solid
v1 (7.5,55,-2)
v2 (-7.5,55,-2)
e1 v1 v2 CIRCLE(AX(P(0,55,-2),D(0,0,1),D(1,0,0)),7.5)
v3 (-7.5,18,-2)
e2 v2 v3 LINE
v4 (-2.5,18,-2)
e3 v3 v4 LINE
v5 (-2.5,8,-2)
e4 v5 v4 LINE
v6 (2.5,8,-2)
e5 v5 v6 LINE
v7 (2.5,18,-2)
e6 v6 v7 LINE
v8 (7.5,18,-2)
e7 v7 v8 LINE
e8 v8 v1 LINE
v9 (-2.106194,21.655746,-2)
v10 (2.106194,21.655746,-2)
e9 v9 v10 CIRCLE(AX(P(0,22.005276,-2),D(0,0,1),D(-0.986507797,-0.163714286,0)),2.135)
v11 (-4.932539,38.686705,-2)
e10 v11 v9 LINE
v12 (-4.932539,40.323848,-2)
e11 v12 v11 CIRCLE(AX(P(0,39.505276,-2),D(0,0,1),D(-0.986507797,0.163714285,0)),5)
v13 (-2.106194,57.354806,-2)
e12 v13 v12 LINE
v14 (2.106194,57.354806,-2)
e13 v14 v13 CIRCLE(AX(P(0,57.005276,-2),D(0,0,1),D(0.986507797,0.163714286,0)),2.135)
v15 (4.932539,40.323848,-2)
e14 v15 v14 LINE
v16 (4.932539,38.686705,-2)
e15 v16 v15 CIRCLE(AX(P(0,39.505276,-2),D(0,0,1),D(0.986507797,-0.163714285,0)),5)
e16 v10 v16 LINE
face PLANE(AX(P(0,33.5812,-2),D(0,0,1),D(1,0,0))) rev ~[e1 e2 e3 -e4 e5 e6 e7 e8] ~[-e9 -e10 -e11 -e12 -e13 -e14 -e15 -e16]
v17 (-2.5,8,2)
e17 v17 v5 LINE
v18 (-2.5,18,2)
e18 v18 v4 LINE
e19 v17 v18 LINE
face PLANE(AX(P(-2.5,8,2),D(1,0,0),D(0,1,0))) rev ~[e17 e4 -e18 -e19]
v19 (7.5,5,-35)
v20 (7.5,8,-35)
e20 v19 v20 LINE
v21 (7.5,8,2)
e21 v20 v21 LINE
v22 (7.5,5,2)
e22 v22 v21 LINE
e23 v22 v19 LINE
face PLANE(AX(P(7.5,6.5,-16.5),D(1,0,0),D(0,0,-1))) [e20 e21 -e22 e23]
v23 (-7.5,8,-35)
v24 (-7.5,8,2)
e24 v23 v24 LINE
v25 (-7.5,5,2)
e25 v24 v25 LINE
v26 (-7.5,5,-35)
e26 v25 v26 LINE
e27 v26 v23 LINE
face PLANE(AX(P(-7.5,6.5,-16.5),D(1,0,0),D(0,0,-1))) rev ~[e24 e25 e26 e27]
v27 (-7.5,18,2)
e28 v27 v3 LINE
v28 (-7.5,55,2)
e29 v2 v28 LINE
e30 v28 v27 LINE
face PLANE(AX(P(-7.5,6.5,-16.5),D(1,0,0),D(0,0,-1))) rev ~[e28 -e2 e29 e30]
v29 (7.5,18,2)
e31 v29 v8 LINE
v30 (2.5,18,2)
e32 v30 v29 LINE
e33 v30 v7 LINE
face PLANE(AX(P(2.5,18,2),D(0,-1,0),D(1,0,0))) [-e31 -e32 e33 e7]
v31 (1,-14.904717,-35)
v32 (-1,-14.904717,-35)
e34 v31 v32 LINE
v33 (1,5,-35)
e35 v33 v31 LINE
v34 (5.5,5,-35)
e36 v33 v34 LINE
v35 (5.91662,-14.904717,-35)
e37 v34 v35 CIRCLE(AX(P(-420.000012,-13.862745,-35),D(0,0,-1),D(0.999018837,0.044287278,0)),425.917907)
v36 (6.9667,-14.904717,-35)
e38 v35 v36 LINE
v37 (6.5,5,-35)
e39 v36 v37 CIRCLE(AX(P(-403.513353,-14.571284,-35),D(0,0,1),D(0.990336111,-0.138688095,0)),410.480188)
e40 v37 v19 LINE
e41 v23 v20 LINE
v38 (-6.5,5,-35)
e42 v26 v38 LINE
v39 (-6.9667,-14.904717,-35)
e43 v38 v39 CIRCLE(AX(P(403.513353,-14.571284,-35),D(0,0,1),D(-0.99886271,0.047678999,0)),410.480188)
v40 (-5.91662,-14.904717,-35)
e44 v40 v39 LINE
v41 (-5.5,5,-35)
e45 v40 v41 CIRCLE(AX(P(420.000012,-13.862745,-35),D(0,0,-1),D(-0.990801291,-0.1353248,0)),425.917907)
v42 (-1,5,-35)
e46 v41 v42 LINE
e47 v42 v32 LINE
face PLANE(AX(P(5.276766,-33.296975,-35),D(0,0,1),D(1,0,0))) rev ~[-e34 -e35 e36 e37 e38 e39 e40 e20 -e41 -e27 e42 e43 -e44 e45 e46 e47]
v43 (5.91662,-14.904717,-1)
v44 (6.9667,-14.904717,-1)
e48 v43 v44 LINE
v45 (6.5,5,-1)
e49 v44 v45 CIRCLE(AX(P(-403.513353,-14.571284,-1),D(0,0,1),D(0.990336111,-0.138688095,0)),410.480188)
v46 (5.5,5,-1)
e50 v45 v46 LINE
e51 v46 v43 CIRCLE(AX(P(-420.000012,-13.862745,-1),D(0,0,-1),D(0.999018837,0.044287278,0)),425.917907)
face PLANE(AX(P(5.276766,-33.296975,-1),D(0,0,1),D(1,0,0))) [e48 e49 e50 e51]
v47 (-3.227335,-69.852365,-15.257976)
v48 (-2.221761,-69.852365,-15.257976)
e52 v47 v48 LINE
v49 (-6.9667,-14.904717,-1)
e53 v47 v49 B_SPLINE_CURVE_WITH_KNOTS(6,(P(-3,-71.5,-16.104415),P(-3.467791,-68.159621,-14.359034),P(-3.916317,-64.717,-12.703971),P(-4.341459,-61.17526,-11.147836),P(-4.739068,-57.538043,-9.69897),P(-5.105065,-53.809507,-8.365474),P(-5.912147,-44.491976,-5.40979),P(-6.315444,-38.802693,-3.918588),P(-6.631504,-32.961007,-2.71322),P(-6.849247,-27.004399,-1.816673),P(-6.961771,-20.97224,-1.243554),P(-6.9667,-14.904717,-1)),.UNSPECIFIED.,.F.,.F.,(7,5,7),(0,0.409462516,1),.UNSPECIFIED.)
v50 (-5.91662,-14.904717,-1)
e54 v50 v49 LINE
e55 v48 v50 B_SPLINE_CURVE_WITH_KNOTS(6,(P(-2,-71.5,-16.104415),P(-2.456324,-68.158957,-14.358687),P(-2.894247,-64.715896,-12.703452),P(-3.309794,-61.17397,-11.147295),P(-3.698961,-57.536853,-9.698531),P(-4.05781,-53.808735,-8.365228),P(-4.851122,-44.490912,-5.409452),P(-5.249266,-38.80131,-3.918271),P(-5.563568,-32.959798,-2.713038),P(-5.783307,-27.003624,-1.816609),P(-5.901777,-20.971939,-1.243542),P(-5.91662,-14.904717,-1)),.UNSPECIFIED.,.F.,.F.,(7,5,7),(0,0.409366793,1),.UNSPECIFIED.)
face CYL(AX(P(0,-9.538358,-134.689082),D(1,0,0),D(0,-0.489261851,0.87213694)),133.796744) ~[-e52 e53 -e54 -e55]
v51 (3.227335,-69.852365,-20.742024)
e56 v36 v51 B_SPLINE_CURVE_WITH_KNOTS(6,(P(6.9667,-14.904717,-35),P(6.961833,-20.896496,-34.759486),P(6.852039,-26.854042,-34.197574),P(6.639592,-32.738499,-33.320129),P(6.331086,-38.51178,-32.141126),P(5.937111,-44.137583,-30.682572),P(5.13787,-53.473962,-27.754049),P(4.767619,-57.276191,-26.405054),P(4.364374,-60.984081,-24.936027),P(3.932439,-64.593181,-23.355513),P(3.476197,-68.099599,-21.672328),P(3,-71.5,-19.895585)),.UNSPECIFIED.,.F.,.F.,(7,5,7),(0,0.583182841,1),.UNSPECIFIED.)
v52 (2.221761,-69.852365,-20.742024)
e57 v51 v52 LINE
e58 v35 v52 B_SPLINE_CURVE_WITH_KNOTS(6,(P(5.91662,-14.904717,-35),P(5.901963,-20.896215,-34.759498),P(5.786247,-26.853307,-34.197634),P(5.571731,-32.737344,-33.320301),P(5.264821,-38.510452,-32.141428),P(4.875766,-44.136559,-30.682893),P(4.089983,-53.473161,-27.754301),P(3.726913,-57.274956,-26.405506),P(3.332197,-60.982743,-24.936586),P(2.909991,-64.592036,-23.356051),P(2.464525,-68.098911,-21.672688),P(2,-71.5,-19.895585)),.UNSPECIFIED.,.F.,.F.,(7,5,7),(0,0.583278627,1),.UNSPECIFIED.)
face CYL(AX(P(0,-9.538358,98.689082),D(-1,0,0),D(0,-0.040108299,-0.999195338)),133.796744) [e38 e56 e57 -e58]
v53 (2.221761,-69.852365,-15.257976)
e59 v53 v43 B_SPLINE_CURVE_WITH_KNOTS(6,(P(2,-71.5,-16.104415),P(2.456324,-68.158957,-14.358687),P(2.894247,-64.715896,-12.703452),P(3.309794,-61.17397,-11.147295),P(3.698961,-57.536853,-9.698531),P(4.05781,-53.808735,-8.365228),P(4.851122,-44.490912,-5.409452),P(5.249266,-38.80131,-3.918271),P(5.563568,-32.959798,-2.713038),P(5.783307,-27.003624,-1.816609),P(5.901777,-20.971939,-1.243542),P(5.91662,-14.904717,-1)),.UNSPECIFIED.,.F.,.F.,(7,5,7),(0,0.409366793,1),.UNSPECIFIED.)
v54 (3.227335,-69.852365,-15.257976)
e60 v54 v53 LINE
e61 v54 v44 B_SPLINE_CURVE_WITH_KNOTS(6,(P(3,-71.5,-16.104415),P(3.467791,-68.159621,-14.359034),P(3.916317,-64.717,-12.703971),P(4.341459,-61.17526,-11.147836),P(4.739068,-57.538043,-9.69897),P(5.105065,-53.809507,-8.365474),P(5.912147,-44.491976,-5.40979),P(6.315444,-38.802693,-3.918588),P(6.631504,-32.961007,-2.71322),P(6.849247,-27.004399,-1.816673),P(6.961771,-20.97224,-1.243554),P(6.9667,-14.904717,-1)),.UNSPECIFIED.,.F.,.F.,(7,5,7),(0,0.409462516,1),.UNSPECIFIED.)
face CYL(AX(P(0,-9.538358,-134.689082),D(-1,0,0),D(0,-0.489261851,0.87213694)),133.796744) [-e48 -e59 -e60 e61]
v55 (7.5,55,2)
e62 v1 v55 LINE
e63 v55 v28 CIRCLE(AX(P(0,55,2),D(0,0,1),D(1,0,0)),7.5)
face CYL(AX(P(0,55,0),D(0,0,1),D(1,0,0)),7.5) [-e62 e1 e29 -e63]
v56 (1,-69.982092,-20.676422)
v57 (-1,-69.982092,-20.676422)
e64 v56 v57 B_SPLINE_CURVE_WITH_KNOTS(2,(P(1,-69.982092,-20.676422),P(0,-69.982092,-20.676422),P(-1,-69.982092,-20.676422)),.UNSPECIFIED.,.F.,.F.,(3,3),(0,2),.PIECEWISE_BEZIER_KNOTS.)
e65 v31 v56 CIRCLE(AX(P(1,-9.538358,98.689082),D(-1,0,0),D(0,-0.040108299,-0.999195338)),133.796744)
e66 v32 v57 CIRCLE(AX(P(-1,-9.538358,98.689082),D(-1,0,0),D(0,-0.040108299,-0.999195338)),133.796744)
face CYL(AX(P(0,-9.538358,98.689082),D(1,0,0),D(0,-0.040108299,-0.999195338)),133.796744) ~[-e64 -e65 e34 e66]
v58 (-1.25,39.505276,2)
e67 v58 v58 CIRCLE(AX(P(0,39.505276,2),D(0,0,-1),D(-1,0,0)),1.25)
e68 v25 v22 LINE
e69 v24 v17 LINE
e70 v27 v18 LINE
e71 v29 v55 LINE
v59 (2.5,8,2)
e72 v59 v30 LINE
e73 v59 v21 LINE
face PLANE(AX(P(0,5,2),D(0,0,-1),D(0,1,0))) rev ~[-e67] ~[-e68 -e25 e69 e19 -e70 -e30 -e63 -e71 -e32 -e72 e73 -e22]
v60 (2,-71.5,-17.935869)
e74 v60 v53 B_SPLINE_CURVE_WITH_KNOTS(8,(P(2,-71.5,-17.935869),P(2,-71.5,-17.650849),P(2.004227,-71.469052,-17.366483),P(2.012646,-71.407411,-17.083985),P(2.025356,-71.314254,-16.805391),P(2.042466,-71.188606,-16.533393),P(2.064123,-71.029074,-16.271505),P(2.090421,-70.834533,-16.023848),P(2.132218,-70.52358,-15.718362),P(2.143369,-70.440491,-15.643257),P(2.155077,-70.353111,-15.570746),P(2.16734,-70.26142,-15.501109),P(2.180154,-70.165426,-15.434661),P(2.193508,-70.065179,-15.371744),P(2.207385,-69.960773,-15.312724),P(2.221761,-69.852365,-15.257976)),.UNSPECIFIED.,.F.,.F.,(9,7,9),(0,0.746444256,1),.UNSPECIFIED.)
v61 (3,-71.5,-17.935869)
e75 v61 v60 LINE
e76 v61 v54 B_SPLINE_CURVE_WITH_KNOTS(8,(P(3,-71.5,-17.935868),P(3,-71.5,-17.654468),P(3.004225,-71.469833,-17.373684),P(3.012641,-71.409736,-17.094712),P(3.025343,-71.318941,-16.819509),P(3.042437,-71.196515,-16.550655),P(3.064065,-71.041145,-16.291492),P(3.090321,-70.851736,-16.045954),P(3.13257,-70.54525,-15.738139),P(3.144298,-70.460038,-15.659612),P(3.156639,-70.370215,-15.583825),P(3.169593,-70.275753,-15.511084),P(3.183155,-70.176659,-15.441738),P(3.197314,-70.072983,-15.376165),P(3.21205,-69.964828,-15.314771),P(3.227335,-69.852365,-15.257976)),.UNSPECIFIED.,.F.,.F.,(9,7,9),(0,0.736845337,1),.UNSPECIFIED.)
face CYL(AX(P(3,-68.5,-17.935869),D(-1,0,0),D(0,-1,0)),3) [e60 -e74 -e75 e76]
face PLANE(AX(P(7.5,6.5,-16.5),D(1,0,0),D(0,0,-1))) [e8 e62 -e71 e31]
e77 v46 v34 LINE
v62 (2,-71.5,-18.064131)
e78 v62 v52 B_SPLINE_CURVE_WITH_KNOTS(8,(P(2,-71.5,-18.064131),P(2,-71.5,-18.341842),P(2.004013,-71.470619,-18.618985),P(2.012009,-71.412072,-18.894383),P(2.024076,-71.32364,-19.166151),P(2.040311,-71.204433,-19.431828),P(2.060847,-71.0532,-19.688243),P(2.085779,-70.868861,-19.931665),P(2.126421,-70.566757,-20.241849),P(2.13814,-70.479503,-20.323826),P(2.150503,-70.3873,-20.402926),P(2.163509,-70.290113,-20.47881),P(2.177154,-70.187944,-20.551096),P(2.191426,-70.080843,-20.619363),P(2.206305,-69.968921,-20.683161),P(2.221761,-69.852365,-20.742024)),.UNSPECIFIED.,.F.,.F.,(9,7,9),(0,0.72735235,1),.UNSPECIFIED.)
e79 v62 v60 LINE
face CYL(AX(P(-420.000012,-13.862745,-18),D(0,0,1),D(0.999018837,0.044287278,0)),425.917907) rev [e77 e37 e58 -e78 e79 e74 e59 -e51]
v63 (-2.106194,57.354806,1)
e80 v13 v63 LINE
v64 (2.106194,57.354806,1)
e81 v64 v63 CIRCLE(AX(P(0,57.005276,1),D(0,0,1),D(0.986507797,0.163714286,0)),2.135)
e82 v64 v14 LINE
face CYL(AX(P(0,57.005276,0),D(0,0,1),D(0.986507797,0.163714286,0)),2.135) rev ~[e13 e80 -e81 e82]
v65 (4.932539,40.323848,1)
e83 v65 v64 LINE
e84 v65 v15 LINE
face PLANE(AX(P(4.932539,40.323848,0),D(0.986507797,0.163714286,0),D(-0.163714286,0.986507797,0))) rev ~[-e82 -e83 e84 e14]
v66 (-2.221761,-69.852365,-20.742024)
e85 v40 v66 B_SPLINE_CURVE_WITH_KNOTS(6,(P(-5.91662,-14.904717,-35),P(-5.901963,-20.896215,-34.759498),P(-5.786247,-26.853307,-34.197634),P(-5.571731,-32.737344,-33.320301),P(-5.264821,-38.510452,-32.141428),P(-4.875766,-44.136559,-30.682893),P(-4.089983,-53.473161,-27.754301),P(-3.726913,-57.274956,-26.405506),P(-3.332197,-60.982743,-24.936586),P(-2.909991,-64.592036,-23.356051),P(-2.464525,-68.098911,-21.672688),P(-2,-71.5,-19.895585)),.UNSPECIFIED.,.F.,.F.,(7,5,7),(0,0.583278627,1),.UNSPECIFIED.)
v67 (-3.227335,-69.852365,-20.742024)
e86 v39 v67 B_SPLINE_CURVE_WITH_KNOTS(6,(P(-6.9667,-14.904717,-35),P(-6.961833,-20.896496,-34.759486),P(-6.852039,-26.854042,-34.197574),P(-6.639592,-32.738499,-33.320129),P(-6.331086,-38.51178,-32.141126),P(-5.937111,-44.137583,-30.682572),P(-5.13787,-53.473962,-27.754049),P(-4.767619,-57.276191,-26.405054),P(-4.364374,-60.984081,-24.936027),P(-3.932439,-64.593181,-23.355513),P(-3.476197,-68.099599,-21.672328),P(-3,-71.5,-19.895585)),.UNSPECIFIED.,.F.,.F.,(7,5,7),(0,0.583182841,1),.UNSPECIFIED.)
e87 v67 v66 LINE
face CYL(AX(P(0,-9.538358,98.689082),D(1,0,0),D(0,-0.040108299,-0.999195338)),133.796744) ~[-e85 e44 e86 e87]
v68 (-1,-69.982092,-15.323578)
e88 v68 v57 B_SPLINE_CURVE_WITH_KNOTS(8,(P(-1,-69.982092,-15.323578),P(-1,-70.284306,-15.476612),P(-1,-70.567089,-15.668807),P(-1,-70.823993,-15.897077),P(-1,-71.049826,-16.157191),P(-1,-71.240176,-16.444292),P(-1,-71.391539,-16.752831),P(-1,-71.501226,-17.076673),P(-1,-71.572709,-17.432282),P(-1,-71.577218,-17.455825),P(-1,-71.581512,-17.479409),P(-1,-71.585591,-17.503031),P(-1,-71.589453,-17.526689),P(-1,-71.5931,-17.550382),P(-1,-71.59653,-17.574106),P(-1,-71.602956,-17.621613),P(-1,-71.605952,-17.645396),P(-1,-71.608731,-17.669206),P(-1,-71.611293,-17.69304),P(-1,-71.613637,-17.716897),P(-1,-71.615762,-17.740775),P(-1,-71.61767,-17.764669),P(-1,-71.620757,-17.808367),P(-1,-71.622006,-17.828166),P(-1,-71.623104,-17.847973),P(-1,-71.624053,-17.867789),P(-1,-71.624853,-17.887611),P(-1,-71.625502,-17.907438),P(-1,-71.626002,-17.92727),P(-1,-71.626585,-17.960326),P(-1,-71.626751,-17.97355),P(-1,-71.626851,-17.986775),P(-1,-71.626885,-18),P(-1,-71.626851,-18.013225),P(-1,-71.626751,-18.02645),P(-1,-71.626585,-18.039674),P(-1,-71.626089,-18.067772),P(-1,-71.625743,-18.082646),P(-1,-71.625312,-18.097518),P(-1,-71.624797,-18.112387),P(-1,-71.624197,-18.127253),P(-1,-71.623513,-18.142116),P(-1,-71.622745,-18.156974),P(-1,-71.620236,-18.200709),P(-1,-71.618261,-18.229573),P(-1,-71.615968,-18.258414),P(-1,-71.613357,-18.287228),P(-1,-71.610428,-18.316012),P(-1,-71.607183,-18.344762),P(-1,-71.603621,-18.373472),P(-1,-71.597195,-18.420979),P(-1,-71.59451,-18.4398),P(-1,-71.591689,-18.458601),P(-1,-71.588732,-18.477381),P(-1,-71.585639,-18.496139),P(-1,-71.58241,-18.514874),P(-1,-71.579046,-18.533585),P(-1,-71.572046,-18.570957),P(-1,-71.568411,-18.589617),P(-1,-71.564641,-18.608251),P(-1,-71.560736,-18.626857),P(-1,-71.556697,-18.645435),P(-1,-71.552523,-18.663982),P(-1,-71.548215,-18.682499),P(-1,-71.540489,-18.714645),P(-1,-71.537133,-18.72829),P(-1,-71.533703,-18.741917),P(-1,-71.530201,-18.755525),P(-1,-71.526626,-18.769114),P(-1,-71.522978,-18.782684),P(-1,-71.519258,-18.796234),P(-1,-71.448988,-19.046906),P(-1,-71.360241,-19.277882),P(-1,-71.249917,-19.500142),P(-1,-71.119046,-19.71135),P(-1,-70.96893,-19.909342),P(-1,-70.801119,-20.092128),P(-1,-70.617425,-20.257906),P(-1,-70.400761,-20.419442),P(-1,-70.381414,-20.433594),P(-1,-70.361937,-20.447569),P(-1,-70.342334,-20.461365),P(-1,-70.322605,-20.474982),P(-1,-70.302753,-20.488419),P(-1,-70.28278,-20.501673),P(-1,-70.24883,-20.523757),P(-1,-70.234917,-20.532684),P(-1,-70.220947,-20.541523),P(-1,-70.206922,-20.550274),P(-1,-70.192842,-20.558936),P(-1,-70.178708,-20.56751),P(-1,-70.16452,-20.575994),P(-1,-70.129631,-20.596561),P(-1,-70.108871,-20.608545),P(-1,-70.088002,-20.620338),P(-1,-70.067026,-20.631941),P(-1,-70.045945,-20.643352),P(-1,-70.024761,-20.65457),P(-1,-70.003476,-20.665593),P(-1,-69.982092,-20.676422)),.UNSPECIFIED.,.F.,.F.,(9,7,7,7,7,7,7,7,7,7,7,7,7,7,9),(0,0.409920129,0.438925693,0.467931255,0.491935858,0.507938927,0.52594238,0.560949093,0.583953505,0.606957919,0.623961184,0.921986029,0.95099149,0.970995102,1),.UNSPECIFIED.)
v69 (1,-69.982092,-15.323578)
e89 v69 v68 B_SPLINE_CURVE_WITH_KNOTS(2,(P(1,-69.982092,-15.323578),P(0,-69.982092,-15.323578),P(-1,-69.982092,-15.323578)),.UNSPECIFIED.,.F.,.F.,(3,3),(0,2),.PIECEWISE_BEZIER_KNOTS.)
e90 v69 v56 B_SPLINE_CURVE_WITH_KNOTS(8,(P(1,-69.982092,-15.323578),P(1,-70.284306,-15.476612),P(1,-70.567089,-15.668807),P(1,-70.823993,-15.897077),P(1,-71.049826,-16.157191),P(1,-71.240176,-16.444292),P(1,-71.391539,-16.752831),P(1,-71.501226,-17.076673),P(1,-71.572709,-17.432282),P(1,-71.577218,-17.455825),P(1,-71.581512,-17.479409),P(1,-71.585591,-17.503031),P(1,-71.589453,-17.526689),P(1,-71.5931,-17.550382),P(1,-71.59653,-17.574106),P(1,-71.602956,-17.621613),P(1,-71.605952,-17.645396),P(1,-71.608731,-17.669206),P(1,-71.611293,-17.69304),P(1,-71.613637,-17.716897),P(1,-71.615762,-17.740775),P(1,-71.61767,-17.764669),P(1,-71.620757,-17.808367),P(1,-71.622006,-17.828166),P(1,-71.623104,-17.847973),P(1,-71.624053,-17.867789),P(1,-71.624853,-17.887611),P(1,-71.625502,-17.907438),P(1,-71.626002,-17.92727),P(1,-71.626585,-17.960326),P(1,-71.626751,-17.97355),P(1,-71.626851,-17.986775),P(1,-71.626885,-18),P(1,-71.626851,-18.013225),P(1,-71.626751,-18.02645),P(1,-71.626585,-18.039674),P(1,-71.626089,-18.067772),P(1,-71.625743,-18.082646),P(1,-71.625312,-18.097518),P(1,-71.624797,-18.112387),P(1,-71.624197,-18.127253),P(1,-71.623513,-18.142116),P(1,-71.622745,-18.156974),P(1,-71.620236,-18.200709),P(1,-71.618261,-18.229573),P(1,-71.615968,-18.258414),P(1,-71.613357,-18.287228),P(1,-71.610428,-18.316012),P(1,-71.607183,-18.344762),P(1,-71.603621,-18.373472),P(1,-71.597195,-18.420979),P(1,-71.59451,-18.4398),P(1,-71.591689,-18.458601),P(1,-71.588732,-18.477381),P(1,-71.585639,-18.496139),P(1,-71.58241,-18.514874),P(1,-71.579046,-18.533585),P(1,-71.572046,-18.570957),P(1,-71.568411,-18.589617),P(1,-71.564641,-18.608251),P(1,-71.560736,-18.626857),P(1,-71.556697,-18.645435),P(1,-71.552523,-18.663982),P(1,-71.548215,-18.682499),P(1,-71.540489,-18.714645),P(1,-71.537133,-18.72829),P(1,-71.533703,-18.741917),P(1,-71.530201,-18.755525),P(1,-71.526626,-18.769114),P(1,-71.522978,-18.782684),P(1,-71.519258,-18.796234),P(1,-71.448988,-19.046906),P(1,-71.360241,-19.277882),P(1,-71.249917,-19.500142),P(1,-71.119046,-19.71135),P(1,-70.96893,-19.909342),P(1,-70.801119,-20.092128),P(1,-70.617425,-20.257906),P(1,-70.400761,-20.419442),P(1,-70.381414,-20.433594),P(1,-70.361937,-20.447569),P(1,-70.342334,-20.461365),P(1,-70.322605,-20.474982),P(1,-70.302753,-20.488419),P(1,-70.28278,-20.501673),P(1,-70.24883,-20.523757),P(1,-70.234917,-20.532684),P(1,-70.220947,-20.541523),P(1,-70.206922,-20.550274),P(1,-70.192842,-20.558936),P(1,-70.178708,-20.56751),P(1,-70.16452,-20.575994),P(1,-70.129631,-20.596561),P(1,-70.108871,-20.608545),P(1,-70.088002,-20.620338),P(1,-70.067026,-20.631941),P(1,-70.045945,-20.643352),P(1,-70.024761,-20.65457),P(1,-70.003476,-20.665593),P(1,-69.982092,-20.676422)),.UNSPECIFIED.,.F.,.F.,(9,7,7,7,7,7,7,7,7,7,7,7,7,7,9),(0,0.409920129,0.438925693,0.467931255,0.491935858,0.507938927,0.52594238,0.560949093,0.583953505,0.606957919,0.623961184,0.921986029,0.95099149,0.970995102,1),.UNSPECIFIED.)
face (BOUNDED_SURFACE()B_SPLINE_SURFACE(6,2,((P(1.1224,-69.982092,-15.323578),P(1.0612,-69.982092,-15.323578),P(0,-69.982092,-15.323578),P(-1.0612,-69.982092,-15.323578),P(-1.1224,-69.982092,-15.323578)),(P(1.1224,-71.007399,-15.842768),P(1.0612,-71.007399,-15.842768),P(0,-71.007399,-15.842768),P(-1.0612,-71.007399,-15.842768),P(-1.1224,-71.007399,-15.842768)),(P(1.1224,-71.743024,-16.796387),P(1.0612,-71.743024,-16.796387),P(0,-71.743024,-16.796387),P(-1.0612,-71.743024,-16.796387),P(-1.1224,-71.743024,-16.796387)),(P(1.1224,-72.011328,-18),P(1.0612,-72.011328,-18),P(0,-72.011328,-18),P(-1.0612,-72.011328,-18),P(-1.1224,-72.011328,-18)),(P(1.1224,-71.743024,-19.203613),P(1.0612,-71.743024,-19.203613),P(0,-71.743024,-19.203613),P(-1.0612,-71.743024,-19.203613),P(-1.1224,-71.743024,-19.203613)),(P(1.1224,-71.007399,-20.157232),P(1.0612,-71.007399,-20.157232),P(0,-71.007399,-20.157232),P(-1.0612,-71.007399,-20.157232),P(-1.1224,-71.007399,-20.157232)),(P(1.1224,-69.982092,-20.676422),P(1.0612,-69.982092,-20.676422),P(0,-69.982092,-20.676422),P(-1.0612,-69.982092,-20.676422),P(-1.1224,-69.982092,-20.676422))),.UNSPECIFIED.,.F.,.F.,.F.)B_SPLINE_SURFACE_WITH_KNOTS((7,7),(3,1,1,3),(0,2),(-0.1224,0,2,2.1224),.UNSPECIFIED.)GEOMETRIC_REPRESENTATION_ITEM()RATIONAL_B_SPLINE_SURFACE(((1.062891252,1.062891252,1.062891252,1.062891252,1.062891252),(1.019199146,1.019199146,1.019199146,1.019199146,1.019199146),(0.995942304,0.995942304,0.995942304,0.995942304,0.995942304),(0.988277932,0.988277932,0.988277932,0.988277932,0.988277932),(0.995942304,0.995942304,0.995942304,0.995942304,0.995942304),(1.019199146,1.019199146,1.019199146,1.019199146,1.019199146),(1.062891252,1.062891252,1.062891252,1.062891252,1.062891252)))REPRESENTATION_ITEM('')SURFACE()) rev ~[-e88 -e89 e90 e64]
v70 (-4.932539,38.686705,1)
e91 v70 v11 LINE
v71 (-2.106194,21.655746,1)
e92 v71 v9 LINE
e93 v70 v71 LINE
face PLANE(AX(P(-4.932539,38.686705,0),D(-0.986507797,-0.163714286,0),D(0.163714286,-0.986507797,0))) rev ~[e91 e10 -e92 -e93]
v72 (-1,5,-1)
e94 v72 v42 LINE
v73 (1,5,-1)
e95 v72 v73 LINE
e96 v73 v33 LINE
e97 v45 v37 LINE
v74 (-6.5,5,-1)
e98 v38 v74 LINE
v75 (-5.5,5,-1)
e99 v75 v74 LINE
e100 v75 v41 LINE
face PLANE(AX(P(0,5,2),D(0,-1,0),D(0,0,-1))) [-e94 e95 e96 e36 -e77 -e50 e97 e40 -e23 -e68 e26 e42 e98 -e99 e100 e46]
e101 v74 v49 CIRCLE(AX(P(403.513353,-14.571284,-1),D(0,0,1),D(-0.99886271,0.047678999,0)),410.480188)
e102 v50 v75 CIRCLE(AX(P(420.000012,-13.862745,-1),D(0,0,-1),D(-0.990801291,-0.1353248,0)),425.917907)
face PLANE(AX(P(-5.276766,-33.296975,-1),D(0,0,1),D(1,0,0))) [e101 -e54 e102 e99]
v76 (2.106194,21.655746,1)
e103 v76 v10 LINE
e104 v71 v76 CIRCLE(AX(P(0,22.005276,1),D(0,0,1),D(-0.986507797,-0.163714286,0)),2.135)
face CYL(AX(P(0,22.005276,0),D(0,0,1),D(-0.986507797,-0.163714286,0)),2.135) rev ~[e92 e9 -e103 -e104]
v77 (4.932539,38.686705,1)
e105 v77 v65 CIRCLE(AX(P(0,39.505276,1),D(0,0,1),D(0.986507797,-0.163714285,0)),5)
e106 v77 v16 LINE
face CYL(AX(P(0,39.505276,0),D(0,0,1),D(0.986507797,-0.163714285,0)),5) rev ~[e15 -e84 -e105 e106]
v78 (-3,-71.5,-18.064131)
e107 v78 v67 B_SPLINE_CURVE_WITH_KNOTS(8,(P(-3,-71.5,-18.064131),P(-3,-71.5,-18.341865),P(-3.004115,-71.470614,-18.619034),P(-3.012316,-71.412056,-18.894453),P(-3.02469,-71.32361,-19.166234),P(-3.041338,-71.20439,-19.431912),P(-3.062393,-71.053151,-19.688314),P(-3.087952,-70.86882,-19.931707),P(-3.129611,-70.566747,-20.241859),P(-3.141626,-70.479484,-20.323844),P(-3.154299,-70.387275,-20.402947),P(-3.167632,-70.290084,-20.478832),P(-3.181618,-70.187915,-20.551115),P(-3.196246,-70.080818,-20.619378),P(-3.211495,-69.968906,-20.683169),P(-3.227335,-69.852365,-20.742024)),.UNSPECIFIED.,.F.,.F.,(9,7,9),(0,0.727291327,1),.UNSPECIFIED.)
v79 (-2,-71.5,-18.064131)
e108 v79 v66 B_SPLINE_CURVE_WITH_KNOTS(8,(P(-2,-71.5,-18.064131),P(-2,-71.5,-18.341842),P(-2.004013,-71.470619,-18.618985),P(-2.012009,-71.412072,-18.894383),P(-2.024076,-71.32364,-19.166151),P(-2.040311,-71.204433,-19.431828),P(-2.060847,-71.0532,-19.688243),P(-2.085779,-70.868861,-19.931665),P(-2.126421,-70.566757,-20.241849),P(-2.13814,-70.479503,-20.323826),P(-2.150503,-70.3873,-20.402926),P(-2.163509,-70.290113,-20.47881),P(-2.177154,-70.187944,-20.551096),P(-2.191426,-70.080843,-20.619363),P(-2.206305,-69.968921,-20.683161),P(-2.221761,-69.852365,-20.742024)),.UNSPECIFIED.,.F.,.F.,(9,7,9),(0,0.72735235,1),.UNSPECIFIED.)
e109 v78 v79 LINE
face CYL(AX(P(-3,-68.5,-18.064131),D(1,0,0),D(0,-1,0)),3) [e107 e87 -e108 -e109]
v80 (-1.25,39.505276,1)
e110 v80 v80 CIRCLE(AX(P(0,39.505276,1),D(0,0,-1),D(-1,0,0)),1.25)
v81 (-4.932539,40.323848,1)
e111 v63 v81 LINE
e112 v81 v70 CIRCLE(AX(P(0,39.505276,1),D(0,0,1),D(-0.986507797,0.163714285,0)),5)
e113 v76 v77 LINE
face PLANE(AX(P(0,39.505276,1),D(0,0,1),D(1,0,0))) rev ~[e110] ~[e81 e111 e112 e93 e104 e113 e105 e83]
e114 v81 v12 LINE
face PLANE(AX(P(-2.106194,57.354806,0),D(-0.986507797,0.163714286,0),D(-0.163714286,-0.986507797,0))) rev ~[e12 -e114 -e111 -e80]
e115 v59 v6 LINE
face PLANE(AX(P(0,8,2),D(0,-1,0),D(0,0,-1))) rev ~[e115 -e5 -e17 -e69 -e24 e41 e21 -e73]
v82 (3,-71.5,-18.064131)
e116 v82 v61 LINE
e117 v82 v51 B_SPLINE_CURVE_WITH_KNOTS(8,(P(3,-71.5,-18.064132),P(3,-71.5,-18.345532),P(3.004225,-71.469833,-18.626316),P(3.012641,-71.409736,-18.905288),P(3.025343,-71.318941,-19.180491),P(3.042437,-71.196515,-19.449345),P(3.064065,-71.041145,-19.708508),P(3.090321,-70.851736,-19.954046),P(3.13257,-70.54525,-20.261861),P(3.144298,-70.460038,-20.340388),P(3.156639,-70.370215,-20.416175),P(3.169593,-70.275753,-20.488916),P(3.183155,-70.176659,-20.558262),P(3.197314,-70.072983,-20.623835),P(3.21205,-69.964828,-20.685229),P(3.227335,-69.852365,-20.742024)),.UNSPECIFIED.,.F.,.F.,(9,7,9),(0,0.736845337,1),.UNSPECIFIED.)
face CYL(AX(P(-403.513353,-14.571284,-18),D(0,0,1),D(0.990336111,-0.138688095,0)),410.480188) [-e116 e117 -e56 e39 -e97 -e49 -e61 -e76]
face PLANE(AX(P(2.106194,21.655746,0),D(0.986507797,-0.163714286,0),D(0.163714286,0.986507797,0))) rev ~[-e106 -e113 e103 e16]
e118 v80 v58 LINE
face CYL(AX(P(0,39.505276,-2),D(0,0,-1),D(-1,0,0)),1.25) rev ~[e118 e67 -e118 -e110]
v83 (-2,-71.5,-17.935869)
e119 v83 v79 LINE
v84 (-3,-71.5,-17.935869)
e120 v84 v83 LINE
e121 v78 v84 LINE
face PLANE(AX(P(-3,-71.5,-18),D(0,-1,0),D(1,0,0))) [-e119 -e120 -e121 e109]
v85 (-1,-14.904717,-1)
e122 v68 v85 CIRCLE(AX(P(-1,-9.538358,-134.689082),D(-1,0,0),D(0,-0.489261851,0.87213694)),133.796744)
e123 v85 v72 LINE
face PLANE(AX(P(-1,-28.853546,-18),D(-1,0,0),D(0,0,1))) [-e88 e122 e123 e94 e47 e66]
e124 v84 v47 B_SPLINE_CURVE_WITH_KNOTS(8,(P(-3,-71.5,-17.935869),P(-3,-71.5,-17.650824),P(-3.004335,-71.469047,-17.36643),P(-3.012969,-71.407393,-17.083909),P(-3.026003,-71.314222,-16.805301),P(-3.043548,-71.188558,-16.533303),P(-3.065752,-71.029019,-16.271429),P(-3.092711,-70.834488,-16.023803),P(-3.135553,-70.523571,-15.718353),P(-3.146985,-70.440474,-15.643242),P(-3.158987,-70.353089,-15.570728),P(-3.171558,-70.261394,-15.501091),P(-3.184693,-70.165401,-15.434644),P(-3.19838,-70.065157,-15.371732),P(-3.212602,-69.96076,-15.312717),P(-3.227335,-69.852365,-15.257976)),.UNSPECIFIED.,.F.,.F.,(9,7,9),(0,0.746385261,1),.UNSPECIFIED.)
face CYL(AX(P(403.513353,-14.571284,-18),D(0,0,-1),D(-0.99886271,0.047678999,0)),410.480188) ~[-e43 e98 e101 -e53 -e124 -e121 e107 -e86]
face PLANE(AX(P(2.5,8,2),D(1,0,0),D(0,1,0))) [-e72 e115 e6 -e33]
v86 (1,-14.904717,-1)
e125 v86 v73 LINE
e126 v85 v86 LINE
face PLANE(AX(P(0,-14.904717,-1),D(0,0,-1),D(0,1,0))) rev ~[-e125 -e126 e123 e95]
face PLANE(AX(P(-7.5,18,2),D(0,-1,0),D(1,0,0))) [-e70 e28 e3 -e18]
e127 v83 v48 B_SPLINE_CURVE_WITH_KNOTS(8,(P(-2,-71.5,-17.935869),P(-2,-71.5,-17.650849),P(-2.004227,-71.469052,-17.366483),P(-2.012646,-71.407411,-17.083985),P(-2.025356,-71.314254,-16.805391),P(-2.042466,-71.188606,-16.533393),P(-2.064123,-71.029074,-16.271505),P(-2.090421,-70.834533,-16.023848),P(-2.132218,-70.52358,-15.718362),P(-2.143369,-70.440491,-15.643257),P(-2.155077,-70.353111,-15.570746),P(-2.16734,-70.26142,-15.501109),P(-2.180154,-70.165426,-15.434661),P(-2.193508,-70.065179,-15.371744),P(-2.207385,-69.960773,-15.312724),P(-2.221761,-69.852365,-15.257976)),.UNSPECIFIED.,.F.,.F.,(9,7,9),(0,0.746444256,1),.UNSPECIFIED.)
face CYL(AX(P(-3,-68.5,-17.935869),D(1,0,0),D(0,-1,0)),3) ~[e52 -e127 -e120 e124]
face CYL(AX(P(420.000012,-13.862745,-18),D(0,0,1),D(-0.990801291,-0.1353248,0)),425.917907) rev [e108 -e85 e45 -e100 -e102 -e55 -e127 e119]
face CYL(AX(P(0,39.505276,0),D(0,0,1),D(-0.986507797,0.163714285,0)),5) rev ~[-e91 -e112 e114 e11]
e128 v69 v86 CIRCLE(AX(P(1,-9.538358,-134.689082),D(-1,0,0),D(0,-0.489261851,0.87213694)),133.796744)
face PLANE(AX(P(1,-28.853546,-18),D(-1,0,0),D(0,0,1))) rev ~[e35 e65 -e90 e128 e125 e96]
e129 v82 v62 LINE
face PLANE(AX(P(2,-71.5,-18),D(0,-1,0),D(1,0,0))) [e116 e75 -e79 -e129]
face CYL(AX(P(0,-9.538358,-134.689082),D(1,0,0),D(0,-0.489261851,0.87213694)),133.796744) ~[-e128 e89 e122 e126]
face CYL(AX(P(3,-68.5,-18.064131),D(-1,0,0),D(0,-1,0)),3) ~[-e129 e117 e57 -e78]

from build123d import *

# Parameters (mm, degrees)
EXTRUDE_1_DEPTH          = 2
EXTRUDE_1_DEPTH_BACK     = 2
EXTRUDE_2_DEPTH          = 7.5
EXTRUDE_2_DEPTH_BACK     = 7.5
SKETCH_6_W               = 37
SKETCH_6_H               = 3
EXTRUDE_4_DEPTH          = 1
EXTRUDE_4_DEPTH_BACK     = 1
FILLET_1_R               = 3
EXTRUDE_8_DEPTH          = 17
EXTRUDE_8_DEPTH_BACK     = 17
CUT_EXTRUDE_3_DEPTH      = 17.5
CUT_EXTRUDE_3_DEPTH_BACK = 17.5
FILLET_7_R               = 3
FILLET_8_R               = 3
FILLET_9_R               = 3
FILLET_10_R              = 3
SKETCH_21_W              = 5
SKETCH_21_H              = 10
CUT_EXTRUDE_4_DEPTH      = 4
CUT_EXTRUDE_5_DEPTH      = 1
CUT_EXTRUDE_5_DEPTH_BACK = 2
SKETCH_23_R              = 1.25
CUT_EXTRUDE_6_DEPTH      = 13


with BuildPart() as part:
    # 草圖1 → 填料-伸長1 (new, two sides: drawn at the far end of the back side and taken through both)
    with BuildSketch(Plane.XY.offset(-EXTRUDE_1_DEPTH_BACK)):
        with BuildLine():
            Line((7.5, 8), (7.5, 55))
            ThreePointArc((7.5, 55), (0, 62.5), (-7.5, 55))
            Line((-7.5, 55), (-7.5, 8))
            Line((-7.5, 8), (7.5, 8))
        make_face()
    extrude(amount=EXTRUDE_1_DEPTH + EXTRUDE_1_DEPTH_BACK)

    # 草圖6 → 填料-伸長2 (add, two sides: drawn at the far end of the back side and taken through both)
    with BuildSketch(Plane(origin=(0, 0, 0), x_dir=(0, 0, -1), z_dir=(1, 0, 0)).offset(-EXTRUDE_2_DEPTH_BACK)):
        with Locations((16.5, 6.5)):
            Rectangle(SKETCH_6_W, SKETCH_6_H)
    extrude(amount=EXTRUDE_2_DEPTH + EXTRUDE_2_DEPTH_BACK)

    # 草圖8 → 填料-伸長4 (add, two sides: drawn at the far end of the back side and taken through both)
    with BuildSketch(Plane(origin=(0, 0, 0), x_dir=(0, 0, -1), z_dir=(1, 0, 0)).offset(-EXTRUDE_4_DEPTH_BACK)):
        with BuildLine():
            Line((1, 5), (35, 5))
            Line((35, 5), (35, -14.904717451))
            ThreePointArc((35, -14.904717451), (30.055498448, -45.958152709), (18, -75))
            ThreePointArc((18, -75), (5.944501552, -45.958152709), (1, -14.904717451))
            Line((1, -14.904717451), (1, 5))
        make_face()
    extrude(amount=EXTRUDE_4_DEPTH + EXTRUDE_4_DEPTH_BACK)

    # 圓角1
    fillet_1_edges = [part.edges().sort_by_distance(p)[0] for p in [
        (0, -75, -18),
    ]]
    fillet(fillet_1_edges, radius=FILLET_1_R)

    # 草圖19 → 填料-伸長8 (add, two sides: drawn at the far end of the back side and taken through both)
    with BuildSketch(Plane.XY.offset(-18).offset(-EXTRUDE_8_DEPTH_BACK)):
        with BuildLine():
            Line((6.5, 5), (5.5, 5))
            ThreePointArc((5.5, 5), (5.47282517, -33.328822067), (2, -71.5))
            Line((2, -71.5), (3, -71.5))
            ThreePointArc((3, -71.5), (6.537897336, -33.331799225), (6.5, 5))
        make_face()
        with BuildLine():
            Line((-3, -71.5), (-2, -71.5))
            ThreePointArc((-2, -71.5), (-5.47282517, -33.328822067), (-5.5, 5))
            Line((-5.5, 5), (-6.5, 5))
            ThreePointArc((-6.5, 5), (-6.537897336, -33.331799225), (-3, -71.5))
        make_face()
    extrude(amount=EXTRUDE_8_DEPTH + EXTRUDE_8_DEPTH_BACK)

    # 草圖20 → 除料-伸長3 (cut, two sides: drawn at the far end of the back side and taken through both)
    with BuildSketch(Plane(origin=(0, 0, 0), x_dir=(0, 0, -1), z_dir=(1, 0, 0)).offset(-CUT_EXTRUDE_3_DEPTH_BACK)):
        with BuildLine():
            Line((1, -14.904717451), (1, -76.940462962))
            Line((1, -76.940462962), (35, -76.940462962))
            Line((35, -76.940462962), (35, -14.904717451))
            ThreePointArc((35, -14.904717451), (30.055498448, -45.958152709), (18, -75))
            ThreePointArc((18, -75), (5.944501552, -45.958152709), (1, -14.904717451))
        make_face()
    extrude(amount=CUT_EXTRUDE_3_DEPTH + CUT_EXTRUDE_3_DEPTH_BACK, mode=Mode.SUBTRACT)

    # 圓角7
    fillet_7_edges = [part.edges().sort_by_distance(p)[0] for p in [
        (2.5, -71.5, -16.104414556),
    ]]
    fillet(fillet_7_edges, radius=FILLET_7_R)

    # 圓角8
    fillet_8_edges = [part.edges().sort_by_distance(p)[0] for p in [
        (2.5, -71.5, -19.895585444),
    ]]
    fillet(fillet_8_edges, radius=FILLET_8_R)

    # 圓角9
    fillet_9_edges = [part.edges().sort_by_distance(p)[0] for p in [
        (-2.5, -71.5, -16.104414556),
    ]]
    fillet(fillet_9_edges, radius=FILLET_9_R)

    # 圓角10
    fillet_10_edges = [part.edges().sort_by_distance(p)[0] for p in [
        (-2.5, -71.5, -19.895585444),
    ]]
    fillet(fillet_10_edges, radius=FILLET_10_R)

    # 草圖21 → 除料-伸長4 (cut)
    with BuildSketch(Plane.XY.offset(2)):
        with Locations((-5, 13)):
            Rectangle(SKETCH_21_W, SKETCH_21_H)
        with Locations((5, 13)):
            Rectangle(SKETCH_21_W, SKETCH_21_H)
    extrude(amount=-CUT_EXTRUDE_4_DEPTH, mode=Mode.SUBTRACT)

    # 草圖3 → 除料-伸長5 (cut, two sides: drawn at the far end of the back side and taken through both)
    with BuildSketch(Plane.XY.offset(-CUT_EXTRUDE_5_DEPTH_BACK)):
        with BuildLine():
            Line((-2.106194146, 57.35480611), (-4.932538983, 40.323847539))
            ThreePointArc((-4.932538983, 40.323847539), (-5, 39.50527611), (-4.932538983, 38.686704682))
            Line((-4.932538983, 38.686704682), (-2.106194146, 21.65574611))
            ThreePointArc((-2.106194146, 21.65574611), (0, 19.87027611), (2.106194146, 21.65574611))
            Line((2.106194146, 21.65574611), (4.932538983, 38.686704682))
            ThreePointArc((4.932538983, 38.686704682), (5, 39.50527611), (4.932538983, 40.323847539))
            Line((4.932538983, 40.323847539), (2.106194146, 57.35480611))
            ThreePointArc((2.106194146, 57.35480611), (0, 59.14027611), (-2.106194146, 57.35480611))
        make_face()
    extrude(amount=CUT_EXTRUDE_5_DEPTH + CUT_EXTRUDE_5_DEPTH_BACK, mode=Mode.SUBTRACT)

    # 草圖23 → 除料-伸長6 (cut)
    with BuildSketch(Plane(origin=(0, 0, -2), x_dir=(-1, 0, 0), z_dir=(0, 0, -1))):
        with Locations((0, 39.50527611)):
            Circle(SKETCH_23_R)
    extrude(amount=-CUT_EXTRUDE_6_DEPTH, mode=Mode.SUBTRACT)


solid = part.part
